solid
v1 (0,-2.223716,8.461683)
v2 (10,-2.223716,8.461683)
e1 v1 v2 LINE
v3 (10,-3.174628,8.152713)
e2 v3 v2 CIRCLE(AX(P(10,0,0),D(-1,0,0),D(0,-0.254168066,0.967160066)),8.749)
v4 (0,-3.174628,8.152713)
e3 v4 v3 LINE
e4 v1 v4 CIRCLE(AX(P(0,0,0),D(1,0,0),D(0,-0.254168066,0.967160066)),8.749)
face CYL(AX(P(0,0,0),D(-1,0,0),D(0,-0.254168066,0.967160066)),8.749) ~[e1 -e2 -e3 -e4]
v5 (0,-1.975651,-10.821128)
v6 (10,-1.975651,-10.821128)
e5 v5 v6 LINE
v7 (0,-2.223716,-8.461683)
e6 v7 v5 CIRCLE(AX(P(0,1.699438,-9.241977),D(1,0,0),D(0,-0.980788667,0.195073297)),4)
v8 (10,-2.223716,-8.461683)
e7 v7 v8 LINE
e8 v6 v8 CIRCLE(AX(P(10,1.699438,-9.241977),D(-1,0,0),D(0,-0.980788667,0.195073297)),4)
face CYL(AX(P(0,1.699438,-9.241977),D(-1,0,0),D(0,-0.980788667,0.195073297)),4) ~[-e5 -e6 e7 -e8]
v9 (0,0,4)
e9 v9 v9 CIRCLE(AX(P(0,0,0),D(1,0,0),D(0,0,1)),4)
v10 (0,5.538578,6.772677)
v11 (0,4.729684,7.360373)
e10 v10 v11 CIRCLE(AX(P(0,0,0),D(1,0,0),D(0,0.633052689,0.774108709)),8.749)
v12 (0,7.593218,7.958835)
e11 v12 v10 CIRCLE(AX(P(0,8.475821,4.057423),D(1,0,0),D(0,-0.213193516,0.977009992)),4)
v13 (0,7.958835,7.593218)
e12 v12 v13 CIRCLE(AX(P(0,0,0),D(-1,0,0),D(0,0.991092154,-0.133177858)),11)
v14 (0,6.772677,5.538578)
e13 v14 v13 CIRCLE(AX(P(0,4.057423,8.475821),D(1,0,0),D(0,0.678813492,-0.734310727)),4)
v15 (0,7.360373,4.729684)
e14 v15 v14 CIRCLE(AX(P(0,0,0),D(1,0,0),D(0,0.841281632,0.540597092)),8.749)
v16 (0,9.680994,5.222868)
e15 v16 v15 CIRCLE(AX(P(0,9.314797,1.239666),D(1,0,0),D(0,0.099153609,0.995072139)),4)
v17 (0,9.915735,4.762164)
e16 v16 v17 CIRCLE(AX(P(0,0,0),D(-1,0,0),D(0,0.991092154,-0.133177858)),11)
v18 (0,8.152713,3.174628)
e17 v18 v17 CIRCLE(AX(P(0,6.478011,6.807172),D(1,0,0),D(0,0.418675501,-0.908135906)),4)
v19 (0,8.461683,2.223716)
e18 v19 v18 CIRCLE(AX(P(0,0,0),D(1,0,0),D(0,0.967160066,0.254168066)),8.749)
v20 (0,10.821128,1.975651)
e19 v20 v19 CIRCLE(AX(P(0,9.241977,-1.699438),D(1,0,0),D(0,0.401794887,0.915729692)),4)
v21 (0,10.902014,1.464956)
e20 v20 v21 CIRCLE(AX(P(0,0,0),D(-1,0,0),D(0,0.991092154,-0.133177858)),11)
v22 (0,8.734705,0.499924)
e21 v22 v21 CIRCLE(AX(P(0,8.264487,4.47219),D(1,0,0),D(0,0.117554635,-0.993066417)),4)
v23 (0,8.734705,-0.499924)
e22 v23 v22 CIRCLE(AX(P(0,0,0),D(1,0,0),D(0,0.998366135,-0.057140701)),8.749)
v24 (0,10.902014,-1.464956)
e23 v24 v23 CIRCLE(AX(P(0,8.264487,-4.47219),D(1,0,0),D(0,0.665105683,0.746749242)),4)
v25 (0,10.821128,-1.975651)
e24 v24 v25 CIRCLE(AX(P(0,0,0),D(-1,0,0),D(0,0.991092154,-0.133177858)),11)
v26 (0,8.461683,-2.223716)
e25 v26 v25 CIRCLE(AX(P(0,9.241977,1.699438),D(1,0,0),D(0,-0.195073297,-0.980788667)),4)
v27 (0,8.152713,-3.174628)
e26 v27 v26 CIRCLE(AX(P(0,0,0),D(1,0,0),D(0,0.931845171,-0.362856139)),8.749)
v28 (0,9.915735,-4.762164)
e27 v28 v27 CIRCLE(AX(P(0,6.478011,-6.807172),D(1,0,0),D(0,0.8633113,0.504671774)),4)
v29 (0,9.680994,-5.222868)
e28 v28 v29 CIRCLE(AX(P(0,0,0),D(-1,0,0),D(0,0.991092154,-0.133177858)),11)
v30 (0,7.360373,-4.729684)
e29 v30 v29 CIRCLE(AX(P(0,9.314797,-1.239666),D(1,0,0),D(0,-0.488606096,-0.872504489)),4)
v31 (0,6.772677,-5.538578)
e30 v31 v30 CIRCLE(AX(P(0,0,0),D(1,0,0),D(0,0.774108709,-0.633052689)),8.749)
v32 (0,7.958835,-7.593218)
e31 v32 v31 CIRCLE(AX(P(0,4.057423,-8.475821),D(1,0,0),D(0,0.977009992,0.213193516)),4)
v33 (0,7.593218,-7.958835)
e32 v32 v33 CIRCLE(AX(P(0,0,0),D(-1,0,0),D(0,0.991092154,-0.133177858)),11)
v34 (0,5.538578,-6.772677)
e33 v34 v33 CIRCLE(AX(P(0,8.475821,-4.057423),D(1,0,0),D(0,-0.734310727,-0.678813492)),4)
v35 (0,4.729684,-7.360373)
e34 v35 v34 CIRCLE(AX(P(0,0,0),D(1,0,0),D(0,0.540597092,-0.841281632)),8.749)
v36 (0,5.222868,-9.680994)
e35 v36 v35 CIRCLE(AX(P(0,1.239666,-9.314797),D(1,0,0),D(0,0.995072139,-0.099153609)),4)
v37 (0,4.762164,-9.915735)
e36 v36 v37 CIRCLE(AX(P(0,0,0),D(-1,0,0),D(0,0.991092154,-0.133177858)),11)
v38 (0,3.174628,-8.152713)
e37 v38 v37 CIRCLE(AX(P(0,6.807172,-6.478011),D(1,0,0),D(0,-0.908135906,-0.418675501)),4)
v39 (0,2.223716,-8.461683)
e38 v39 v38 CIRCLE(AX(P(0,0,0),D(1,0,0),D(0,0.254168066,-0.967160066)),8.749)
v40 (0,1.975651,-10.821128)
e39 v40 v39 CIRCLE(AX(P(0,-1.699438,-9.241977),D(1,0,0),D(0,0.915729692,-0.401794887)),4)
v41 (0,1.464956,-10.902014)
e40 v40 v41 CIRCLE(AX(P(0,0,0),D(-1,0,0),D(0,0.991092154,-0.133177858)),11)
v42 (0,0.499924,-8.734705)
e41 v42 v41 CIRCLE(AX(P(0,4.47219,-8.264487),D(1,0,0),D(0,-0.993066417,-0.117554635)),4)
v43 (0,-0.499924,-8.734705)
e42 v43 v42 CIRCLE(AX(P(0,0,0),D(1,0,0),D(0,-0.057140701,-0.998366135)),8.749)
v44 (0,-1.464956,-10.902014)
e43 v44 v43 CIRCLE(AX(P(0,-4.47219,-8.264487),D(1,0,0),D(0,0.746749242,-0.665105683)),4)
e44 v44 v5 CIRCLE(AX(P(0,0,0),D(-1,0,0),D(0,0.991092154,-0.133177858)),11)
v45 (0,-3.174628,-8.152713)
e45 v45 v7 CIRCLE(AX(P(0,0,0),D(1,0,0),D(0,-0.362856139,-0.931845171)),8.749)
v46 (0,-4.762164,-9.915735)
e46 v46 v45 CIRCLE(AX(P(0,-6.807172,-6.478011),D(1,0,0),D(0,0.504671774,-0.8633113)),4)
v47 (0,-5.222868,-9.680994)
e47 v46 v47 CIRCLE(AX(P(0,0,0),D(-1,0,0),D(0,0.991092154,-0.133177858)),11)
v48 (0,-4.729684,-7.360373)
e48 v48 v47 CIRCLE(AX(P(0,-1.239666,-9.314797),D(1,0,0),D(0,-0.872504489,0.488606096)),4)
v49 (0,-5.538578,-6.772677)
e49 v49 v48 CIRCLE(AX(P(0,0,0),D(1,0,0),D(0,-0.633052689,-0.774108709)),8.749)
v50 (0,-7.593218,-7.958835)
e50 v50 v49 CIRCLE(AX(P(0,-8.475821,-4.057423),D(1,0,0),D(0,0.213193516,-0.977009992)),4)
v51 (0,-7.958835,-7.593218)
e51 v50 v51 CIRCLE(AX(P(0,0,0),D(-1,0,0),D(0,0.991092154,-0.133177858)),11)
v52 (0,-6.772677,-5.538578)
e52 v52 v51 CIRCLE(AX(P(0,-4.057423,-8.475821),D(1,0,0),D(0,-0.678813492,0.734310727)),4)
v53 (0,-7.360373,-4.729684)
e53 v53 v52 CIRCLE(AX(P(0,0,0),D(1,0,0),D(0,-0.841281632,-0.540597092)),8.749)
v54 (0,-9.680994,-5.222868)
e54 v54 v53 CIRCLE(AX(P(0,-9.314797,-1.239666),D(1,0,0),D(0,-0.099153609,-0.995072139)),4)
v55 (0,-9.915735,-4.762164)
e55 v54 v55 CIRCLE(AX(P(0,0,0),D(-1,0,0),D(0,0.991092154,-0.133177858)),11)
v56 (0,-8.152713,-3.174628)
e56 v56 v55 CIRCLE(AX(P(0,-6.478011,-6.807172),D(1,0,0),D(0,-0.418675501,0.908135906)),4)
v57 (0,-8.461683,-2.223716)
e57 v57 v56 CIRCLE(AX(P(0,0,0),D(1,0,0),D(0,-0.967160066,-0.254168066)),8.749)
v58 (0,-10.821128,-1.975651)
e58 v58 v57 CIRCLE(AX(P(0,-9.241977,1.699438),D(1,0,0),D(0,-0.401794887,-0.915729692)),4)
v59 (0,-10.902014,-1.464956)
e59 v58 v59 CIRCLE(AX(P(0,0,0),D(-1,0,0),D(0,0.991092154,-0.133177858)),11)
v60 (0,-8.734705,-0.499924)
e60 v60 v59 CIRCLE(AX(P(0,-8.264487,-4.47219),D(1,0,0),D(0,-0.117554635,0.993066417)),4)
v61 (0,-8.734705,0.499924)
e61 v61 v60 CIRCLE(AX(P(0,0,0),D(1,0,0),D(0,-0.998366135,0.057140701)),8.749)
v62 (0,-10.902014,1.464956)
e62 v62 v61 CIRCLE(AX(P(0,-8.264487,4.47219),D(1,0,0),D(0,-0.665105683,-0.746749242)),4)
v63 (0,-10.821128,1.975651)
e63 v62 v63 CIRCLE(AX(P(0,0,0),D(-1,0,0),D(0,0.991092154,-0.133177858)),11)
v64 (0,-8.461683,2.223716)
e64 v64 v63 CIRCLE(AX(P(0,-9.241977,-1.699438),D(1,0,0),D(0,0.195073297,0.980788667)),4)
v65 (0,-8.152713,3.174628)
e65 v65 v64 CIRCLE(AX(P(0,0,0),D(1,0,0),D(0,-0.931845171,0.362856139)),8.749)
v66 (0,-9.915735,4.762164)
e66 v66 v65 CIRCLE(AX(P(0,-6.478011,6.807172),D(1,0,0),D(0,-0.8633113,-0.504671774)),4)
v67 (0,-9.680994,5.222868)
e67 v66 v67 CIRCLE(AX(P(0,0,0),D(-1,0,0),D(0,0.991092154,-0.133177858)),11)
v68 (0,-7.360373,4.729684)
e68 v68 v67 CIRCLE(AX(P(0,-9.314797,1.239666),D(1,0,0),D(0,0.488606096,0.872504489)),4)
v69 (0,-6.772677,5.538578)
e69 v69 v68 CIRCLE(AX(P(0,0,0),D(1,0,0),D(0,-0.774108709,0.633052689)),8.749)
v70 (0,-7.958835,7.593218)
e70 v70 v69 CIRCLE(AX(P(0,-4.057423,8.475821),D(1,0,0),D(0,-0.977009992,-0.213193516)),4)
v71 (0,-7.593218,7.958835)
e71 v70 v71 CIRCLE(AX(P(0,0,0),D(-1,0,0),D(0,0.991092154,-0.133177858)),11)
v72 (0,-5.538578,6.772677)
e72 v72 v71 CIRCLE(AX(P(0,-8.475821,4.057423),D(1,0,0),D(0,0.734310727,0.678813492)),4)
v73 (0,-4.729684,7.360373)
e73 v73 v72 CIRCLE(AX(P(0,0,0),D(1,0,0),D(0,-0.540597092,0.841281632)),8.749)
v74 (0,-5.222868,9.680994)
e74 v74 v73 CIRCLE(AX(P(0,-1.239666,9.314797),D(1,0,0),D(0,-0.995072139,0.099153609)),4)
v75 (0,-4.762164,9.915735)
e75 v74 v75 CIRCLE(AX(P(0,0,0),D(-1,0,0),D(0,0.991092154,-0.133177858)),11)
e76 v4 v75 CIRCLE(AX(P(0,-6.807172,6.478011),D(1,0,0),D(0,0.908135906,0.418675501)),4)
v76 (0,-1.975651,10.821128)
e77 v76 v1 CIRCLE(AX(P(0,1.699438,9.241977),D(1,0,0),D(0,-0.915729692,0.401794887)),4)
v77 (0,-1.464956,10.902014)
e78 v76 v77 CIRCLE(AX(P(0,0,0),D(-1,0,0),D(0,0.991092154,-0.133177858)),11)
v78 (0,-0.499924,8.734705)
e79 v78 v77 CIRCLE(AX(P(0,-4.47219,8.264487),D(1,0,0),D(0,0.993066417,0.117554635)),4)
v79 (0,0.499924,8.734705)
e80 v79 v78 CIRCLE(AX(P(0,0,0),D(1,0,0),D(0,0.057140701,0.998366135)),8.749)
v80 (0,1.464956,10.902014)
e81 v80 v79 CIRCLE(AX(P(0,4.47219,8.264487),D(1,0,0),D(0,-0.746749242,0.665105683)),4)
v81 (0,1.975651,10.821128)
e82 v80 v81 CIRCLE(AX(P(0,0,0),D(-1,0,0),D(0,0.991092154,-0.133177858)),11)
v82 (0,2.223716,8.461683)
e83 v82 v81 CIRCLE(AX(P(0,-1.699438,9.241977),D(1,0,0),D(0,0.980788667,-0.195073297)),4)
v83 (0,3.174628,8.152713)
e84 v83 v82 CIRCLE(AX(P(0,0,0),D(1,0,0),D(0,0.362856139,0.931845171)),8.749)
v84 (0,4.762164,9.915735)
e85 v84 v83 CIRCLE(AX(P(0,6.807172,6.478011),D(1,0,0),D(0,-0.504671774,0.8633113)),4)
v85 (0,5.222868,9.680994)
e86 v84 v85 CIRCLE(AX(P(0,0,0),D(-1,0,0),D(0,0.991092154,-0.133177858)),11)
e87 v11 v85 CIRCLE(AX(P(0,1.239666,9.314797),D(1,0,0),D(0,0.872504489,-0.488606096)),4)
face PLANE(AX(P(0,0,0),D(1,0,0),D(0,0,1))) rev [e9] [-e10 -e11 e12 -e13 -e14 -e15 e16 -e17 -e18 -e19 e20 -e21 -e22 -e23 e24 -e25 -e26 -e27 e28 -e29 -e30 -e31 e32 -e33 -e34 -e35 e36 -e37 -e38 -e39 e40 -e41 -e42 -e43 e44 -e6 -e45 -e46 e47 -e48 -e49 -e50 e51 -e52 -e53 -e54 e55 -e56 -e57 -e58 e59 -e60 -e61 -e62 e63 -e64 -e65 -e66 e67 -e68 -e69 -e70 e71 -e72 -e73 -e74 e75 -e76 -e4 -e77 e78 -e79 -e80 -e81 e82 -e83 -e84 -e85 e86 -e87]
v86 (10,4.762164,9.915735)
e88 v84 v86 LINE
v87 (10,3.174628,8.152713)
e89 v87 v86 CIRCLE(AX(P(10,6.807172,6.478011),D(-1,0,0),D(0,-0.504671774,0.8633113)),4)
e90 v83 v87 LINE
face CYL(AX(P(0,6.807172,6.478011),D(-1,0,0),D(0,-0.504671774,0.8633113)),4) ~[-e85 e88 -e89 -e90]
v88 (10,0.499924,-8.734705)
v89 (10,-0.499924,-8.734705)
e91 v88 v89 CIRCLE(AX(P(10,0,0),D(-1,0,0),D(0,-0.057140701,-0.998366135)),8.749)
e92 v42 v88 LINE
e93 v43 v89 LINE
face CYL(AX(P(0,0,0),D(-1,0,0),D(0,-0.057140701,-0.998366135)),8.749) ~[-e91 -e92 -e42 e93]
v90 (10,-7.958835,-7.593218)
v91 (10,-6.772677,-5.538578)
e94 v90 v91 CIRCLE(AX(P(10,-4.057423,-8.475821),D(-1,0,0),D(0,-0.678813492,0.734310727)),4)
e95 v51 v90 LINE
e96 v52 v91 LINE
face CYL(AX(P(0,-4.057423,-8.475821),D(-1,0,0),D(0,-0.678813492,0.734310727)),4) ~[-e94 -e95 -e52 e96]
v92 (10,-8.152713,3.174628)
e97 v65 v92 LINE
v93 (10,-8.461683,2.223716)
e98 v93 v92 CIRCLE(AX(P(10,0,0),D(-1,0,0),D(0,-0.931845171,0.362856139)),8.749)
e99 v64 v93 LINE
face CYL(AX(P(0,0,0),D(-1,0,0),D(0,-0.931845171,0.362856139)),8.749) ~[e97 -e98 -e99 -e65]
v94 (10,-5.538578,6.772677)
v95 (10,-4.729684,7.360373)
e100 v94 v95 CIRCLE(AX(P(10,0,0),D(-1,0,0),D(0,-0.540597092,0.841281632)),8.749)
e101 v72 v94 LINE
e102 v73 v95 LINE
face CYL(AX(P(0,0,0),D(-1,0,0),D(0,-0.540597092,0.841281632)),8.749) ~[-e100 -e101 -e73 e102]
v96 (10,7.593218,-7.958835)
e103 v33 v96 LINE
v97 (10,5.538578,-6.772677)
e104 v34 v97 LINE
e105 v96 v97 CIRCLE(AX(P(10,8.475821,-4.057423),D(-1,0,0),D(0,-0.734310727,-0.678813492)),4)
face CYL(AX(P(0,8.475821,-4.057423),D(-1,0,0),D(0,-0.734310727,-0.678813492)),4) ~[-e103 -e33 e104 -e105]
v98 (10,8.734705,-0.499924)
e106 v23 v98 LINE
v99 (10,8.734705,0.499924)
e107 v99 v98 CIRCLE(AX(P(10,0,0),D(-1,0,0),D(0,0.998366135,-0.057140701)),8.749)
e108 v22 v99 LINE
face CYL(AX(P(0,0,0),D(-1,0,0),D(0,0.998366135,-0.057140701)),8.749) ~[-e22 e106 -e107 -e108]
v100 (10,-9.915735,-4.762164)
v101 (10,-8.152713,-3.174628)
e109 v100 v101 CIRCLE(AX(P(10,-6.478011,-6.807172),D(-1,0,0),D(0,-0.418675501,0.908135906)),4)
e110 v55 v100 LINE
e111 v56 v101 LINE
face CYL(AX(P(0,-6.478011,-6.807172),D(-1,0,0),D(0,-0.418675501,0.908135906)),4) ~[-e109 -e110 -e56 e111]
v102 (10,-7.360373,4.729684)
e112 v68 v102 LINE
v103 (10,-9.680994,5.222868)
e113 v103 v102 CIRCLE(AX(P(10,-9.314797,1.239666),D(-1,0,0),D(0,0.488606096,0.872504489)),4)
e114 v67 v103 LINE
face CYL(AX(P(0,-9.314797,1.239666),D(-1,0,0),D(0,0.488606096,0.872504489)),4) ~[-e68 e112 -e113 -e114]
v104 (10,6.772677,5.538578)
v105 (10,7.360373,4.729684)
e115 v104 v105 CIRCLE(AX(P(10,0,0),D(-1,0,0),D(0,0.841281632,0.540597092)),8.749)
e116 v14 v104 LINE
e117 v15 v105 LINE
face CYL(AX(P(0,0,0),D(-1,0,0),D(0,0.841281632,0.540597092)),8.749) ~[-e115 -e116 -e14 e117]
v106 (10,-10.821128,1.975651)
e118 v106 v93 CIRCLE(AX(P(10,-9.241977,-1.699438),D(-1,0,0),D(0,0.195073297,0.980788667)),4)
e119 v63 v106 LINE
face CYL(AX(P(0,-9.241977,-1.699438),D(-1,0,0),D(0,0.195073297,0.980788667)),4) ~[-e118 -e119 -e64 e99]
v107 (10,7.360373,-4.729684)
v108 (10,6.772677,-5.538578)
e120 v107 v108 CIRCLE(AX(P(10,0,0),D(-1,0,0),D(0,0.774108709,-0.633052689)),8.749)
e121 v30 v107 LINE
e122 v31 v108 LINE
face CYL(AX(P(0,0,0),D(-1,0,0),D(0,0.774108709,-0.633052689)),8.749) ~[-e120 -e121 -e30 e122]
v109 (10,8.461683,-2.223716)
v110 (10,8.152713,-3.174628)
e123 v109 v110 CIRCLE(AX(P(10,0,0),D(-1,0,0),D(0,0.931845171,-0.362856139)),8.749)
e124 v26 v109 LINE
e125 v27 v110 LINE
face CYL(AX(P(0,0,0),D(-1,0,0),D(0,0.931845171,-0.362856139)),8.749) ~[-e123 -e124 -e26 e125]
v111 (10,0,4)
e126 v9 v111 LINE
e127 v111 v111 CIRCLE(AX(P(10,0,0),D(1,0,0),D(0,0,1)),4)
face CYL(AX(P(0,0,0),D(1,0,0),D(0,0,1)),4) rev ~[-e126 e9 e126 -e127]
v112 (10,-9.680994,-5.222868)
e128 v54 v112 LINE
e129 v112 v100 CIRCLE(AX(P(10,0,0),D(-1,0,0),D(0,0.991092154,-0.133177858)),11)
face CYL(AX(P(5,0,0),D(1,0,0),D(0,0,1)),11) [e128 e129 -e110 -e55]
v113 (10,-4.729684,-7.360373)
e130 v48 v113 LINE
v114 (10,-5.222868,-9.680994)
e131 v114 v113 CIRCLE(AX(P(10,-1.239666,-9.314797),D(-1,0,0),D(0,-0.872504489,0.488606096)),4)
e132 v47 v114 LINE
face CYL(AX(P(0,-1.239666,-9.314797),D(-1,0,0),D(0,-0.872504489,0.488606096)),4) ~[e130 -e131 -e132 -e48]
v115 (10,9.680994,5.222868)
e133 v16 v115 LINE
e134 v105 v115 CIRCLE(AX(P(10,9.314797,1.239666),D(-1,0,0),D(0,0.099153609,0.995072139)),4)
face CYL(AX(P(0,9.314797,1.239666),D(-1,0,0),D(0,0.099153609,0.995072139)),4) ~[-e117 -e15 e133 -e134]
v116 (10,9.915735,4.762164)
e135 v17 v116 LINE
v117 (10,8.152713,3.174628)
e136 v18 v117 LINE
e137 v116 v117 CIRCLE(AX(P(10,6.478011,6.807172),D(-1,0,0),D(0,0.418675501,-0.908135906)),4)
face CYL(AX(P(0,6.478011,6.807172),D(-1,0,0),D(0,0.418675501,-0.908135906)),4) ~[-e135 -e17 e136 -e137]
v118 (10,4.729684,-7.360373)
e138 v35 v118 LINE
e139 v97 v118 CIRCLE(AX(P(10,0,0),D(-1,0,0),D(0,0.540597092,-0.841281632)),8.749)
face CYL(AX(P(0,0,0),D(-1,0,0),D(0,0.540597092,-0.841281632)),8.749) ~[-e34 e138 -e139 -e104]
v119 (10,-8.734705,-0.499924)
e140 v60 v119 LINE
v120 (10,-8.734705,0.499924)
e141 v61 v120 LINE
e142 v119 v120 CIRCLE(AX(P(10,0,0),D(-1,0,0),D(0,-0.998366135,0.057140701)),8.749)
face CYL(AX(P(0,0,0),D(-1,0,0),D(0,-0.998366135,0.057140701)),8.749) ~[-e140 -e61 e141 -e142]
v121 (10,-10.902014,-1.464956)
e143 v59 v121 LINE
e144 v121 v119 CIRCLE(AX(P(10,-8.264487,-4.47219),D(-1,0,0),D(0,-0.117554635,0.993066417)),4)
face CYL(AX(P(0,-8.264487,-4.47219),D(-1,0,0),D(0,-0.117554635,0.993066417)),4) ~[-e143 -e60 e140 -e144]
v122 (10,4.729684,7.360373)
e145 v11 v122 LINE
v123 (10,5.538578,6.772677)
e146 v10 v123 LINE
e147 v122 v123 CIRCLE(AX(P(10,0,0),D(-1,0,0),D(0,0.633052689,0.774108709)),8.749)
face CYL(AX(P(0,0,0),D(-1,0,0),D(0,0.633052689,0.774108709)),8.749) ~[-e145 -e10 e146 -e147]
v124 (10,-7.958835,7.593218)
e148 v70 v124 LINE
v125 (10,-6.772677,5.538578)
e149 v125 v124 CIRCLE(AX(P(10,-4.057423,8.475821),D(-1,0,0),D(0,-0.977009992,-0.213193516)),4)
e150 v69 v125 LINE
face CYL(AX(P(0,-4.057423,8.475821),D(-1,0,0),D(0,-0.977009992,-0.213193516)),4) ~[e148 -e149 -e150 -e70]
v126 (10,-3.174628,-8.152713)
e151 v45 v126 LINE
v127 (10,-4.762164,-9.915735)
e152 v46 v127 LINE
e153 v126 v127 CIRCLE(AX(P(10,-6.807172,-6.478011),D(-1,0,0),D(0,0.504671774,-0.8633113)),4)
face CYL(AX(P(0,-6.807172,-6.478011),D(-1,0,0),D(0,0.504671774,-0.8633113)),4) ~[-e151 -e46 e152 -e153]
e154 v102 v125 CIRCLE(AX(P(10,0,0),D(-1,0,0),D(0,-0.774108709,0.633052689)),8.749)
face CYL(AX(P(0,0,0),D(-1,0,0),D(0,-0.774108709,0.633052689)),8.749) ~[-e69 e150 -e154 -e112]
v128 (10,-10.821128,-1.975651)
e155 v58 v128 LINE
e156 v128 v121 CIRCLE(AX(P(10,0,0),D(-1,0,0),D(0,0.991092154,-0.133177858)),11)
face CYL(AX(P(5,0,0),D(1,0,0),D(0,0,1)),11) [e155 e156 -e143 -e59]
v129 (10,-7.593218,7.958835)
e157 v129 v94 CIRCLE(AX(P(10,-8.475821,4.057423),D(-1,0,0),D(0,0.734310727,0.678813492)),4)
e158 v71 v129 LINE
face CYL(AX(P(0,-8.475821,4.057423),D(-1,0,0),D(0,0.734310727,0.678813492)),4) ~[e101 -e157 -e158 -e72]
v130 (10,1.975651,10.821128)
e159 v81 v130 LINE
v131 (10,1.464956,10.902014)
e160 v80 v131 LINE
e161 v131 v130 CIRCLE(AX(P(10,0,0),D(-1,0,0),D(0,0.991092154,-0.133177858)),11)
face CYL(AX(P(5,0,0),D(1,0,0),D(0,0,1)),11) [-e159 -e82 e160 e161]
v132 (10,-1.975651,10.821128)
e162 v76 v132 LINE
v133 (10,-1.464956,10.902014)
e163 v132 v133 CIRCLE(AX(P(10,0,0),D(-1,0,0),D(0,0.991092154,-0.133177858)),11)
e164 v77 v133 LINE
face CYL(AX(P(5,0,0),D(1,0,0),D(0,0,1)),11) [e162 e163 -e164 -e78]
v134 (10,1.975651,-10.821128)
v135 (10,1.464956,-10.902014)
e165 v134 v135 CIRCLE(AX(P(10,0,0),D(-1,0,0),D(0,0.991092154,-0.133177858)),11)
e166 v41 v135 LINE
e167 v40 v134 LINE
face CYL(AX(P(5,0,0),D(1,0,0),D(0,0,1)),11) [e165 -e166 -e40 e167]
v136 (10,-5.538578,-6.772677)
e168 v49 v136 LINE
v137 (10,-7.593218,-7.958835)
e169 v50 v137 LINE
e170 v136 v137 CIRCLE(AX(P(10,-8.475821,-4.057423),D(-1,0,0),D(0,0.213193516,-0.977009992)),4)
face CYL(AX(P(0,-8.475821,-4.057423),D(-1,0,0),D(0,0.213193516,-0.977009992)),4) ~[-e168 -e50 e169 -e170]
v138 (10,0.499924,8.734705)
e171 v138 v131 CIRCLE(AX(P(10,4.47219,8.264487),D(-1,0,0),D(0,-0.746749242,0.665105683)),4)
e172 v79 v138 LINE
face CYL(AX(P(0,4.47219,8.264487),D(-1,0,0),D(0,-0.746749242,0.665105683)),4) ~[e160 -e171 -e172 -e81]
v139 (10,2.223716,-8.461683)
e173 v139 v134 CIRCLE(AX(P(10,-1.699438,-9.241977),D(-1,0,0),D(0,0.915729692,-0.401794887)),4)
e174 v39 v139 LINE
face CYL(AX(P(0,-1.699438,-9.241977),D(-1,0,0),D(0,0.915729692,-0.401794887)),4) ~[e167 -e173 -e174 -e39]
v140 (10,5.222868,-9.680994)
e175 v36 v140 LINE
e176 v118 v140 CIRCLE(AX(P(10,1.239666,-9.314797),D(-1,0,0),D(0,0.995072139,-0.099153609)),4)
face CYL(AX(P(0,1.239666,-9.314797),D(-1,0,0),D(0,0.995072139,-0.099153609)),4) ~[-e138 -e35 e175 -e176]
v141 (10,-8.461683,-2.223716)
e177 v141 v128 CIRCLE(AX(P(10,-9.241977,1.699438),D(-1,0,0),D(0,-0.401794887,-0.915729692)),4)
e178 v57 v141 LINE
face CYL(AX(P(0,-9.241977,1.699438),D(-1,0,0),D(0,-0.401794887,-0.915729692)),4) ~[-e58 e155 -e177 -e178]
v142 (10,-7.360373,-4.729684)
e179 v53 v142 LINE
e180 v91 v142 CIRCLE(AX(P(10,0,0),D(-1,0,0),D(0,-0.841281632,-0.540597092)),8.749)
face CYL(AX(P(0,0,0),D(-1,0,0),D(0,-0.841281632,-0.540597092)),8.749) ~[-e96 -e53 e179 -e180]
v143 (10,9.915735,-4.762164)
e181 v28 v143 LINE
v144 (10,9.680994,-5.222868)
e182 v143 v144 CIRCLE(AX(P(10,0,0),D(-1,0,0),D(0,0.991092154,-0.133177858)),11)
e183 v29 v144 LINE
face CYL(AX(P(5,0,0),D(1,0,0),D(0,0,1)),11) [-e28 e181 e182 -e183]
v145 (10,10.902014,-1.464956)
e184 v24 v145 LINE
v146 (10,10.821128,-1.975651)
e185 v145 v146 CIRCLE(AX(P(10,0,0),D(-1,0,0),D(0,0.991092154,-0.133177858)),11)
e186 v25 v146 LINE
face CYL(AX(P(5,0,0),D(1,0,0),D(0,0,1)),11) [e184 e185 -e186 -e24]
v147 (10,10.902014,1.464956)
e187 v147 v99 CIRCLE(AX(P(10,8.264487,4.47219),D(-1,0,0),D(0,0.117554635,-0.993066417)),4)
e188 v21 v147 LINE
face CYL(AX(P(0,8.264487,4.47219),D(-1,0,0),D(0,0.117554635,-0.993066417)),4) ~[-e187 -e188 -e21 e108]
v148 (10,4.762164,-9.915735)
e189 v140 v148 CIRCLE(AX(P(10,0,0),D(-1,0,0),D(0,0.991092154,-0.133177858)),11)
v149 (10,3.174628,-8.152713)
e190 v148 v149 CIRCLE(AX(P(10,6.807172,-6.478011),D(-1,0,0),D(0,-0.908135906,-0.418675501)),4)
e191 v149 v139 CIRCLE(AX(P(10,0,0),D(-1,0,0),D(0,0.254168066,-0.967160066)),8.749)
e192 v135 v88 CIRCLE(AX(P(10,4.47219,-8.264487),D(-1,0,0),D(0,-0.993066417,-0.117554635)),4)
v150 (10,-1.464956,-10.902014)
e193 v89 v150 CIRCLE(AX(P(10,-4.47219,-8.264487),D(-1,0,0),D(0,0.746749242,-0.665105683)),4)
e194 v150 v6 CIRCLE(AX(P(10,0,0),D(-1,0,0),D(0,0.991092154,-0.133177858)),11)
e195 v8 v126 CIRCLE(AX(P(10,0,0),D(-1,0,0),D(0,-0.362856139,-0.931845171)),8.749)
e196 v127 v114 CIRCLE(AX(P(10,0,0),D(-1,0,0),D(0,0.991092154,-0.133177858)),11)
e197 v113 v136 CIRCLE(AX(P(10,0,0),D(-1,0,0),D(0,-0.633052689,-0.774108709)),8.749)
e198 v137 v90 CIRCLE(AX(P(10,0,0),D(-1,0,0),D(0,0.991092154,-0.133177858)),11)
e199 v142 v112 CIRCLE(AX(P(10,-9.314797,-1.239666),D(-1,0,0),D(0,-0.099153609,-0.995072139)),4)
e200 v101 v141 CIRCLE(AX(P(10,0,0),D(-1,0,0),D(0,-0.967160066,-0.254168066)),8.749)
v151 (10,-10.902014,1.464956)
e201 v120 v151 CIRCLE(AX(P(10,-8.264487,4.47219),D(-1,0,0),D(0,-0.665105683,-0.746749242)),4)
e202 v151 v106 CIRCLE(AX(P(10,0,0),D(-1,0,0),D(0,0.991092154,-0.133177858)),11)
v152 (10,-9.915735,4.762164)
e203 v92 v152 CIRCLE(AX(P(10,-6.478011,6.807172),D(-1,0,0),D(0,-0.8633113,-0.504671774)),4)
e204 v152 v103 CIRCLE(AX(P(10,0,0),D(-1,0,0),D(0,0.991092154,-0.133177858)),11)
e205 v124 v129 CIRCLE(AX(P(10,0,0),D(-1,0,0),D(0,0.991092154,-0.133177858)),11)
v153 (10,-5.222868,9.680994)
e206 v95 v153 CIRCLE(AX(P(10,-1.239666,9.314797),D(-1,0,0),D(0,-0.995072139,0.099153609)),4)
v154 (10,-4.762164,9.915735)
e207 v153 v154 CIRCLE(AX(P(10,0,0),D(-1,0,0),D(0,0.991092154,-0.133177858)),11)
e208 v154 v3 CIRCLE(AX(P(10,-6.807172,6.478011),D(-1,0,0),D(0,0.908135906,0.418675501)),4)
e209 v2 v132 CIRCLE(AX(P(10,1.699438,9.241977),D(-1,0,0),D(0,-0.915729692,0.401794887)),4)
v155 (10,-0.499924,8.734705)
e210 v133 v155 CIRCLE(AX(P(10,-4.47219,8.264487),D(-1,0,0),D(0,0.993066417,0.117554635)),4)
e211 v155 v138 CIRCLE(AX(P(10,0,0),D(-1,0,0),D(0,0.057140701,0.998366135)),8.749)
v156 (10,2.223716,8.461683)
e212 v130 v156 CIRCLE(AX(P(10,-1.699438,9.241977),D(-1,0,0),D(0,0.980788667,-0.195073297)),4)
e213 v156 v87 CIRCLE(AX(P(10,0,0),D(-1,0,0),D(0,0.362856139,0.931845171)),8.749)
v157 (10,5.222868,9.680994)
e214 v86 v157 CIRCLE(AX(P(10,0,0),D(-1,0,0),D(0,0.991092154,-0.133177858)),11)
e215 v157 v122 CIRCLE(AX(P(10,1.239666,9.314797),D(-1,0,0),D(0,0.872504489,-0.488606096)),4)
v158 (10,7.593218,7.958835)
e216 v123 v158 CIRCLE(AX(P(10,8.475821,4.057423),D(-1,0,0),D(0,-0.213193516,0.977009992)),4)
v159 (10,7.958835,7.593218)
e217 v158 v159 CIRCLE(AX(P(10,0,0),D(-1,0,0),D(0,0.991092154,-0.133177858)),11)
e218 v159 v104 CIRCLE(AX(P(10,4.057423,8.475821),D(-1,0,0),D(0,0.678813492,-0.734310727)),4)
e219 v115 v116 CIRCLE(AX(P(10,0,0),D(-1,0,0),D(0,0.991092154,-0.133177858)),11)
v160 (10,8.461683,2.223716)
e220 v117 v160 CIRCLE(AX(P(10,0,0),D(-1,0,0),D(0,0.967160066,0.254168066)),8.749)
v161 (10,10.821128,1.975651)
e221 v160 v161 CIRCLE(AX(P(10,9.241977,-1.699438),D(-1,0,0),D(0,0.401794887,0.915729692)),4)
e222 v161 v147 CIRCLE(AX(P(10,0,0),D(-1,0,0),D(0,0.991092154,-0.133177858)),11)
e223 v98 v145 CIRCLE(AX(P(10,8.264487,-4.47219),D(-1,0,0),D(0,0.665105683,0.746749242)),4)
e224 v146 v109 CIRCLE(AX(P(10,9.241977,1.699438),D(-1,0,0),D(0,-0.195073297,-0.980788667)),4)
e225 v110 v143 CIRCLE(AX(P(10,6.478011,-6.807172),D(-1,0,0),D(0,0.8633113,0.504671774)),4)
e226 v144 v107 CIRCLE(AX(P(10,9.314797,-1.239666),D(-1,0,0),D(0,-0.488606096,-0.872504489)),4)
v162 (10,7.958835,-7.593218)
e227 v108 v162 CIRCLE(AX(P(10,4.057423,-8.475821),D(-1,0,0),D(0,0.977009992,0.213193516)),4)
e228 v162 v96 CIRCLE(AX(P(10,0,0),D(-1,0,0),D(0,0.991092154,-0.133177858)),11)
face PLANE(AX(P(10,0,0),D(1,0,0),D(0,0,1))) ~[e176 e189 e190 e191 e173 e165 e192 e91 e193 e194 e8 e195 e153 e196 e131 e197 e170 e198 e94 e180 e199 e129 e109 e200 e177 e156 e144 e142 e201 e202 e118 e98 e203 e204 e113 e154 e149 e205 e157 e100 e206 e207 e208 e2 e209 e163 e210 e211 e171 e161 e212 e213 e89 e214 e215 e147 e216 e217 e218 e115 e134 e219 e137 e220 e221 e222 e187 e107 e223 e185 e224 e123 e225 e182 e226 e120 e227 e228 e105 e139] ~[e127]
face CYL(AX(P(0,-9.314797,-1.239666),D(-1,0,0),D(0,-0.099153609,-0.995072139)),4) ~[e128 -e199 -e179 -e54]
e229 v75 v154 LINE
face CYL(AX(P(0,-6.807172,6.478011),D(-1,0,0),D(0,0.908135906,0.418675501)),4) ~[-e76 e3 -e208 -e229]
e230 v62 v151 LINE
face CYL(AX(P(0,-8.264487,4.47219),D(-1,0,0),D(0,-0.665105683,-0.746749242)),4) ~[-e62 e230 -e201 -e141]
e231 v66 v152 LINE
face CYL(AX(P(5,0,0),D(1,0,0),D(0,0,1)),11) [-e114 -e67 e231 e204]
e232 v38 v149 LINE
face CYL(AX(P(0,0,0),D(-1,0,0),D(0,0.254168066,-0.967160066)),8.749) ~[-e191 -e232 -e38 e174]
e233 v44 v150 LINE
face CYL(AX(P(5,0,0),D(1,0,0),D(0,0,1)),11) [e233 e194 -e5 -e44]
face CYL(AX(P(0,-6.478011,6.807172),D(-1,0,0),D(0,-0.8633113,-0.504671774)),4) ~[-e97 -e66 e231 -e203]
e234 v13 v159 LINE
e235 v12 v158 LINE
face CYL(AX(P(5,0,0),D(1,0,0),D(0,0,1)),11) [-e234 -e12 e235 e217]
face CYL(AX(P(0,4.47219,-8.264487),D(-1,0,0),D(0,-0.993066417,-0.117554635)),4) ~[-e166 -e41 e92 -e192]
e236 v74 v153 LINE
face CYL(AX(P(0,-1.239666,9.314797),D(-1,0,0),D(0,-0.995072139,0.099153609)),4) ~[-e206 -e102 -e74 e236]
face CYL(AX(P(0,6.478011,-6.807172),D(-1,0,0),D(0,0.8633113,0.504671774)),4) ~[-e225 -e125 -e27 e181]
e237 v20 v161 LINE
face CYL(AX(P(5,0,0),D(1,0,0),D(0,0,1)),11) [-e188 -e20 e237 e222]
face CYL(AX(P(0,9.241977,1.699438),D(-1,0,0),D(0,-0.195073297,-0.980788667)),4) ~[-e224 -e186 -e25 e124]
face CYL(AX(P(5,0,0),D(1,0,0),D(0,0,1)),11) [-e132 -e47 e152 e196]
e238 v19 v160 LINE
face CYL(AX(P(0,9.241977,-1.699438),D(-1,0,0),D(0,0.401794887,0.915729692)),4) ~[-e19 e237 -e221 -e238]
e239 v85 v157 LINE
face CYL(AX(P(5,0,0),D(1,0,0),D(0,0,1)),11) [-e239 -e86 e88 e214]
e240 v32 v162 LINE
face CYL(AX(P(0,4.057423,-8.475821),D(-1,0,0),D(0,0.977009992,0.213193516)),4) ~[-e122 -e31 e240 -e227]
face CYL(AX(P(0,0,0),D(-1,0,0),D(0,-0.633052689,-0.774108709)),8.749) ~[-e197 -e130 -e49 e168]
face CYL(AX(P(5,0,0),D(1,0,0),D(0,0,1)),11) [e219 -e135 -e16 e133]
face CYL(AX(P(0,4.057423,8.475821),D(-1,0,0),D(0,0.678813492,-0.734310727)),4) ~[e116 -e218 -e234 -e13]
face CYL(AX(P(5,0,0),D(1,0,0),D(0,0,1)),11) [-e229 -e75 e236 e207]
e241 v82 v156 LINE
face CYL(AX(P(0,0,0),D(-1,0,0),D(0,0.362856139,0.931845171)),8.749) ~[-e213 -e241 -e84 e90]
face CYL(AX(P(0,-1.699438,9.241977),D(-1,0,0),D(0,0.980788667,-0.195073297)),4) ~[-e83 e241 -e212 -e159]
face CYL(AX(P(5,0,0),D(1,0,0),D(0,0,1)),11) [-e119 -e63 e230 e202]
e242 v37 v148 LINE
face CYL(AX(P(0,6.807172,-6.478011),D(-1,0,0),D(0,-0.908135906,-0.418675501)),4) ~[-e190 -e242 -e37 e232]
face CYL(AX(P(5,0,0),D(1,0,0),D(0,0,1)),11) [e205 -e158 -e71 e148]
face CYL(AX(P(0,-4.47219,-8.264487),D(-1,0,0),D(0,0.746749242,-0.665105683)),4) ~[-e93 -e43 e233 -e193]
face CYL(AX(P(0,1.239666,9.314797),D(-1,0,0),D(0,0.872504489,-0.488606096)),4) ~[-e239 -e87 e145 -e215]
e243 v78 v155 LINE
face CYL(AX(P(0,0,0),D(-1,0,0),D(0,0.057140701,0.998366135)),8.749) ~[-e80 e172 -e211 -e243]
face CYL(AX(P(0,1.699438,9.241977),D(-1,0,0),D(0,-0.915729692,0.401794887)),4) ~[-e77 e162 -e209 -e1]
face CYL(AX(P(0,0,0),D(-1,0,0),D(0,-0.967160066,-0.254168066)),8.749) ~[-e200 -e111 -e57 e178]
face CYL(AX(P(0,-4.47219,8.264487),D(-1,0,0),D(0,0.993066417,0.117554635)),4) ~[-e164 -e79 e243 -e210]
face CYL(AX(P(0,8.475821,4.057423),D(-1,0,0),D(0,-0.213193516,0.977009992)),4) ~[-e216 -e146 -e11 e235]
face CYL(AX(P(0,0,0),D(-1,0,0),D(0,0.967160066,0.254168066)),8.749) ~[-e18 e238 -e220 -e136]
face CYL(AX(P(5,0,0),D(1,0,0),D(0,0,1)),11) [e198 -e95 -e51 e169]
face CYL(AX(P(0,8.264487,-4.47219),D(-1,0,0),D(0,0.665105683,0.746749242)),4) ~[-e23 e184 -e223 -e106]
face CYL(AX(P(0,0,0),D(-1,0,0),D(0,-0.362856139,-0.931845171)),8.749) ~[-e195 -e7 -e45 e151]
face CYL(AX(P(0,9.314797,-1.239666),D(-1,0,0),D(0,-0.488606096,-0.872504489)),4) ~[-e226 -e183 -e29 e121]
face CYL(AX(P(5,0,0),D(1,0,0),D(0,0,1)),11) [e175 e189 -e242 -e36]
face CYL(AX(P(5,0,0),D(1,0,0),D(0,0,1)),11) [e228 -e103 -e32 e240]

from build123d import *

# Parameters (mm, degrees)
BASPROSKE_W     = 10
BASPROSKE_H     = 11
TOOTHCUT_DEPTH  = 19.493242009
TEETHCUTS_COUNT = 20
TEETHCUTS_ANGLE = 342
BORSKE_R        = 4
BORE_DEPTH      = 50.0000508


with BuildPart() as part:
    # BasProSke → Base-Revolve (revolve)
    with BuildSketch(Plane(origin=(0, 0, 0), x_dir=(1, 0, 0), z_dir=(0, 1, 0)), mode=Mode.PRIVATE) as base_revolve_sk:
        with Locations((5, 5.5)):
            Rectangle(BASPROSKE_W, BASPROSKE_H)
    revolve(base_revolve_sk.sketch.rotate(Axis((-10, 0, 0), (1, 0, 0)), 180), axis=Axis((-10, 0, 0), (1, 0, 0)))

    # TooCutSke → ToothCut (cut, through all)
    with BuildSketch(Plane(origin=(0, 0, 0), x_dir=(0, 0, -1), z_dir=(1, 0, 0))):
        with BuildLine():
            ThreePointArc((0.499924007, 8.734705318), (0, 8.749), (-0.499924007, 8.734705318))
            ThreePointArc((-0.499924007, 8.734705318), (-0.824302243, 9.905497836), (-1.485192705, 10.924909509))
            ThreePointArc((-1.485192705, 10.924909509), (0, 11.0254), (1.485192705, 10.924909509))
            ThreePointArc((1.485192705, 10.924909509), (0.824302243, 9.905497836), (0.499924007, 8.734705318))
        make_face()
    toothcut = extrude(amount=TOOTHCUT_DEPTH, mode=Mode.SUBTRACT)

    # TeethCuts: ToothCut ×20 about axis
    teethcuts_axis = Axis((-10, 0, 0), (1, 0, 0))
    for i in range(1, TEETHCUTS_COUNT):
        add(toothcut.rotate(teethcuts_axis, i * TEETHCUTS_ANGLE / (TEETHCUTS_COUNT - 1)), mode=Mode.SUBTRACT)

    # BorSke → Bore (cut, symmetric)
    with BuildSketch(Plane(origin=(0, 0, 0), x_dir=(0, 0, -1), z_dir=(1, 0, 0))):
        with Locations(Location((0, 0, 0), (0, 0, 180))):
            Circle(BORSKE_R)
    extrude(amount=BORE_DEPTH, both=True, mode=Mode.SUBTRACT)


solid = part.part
